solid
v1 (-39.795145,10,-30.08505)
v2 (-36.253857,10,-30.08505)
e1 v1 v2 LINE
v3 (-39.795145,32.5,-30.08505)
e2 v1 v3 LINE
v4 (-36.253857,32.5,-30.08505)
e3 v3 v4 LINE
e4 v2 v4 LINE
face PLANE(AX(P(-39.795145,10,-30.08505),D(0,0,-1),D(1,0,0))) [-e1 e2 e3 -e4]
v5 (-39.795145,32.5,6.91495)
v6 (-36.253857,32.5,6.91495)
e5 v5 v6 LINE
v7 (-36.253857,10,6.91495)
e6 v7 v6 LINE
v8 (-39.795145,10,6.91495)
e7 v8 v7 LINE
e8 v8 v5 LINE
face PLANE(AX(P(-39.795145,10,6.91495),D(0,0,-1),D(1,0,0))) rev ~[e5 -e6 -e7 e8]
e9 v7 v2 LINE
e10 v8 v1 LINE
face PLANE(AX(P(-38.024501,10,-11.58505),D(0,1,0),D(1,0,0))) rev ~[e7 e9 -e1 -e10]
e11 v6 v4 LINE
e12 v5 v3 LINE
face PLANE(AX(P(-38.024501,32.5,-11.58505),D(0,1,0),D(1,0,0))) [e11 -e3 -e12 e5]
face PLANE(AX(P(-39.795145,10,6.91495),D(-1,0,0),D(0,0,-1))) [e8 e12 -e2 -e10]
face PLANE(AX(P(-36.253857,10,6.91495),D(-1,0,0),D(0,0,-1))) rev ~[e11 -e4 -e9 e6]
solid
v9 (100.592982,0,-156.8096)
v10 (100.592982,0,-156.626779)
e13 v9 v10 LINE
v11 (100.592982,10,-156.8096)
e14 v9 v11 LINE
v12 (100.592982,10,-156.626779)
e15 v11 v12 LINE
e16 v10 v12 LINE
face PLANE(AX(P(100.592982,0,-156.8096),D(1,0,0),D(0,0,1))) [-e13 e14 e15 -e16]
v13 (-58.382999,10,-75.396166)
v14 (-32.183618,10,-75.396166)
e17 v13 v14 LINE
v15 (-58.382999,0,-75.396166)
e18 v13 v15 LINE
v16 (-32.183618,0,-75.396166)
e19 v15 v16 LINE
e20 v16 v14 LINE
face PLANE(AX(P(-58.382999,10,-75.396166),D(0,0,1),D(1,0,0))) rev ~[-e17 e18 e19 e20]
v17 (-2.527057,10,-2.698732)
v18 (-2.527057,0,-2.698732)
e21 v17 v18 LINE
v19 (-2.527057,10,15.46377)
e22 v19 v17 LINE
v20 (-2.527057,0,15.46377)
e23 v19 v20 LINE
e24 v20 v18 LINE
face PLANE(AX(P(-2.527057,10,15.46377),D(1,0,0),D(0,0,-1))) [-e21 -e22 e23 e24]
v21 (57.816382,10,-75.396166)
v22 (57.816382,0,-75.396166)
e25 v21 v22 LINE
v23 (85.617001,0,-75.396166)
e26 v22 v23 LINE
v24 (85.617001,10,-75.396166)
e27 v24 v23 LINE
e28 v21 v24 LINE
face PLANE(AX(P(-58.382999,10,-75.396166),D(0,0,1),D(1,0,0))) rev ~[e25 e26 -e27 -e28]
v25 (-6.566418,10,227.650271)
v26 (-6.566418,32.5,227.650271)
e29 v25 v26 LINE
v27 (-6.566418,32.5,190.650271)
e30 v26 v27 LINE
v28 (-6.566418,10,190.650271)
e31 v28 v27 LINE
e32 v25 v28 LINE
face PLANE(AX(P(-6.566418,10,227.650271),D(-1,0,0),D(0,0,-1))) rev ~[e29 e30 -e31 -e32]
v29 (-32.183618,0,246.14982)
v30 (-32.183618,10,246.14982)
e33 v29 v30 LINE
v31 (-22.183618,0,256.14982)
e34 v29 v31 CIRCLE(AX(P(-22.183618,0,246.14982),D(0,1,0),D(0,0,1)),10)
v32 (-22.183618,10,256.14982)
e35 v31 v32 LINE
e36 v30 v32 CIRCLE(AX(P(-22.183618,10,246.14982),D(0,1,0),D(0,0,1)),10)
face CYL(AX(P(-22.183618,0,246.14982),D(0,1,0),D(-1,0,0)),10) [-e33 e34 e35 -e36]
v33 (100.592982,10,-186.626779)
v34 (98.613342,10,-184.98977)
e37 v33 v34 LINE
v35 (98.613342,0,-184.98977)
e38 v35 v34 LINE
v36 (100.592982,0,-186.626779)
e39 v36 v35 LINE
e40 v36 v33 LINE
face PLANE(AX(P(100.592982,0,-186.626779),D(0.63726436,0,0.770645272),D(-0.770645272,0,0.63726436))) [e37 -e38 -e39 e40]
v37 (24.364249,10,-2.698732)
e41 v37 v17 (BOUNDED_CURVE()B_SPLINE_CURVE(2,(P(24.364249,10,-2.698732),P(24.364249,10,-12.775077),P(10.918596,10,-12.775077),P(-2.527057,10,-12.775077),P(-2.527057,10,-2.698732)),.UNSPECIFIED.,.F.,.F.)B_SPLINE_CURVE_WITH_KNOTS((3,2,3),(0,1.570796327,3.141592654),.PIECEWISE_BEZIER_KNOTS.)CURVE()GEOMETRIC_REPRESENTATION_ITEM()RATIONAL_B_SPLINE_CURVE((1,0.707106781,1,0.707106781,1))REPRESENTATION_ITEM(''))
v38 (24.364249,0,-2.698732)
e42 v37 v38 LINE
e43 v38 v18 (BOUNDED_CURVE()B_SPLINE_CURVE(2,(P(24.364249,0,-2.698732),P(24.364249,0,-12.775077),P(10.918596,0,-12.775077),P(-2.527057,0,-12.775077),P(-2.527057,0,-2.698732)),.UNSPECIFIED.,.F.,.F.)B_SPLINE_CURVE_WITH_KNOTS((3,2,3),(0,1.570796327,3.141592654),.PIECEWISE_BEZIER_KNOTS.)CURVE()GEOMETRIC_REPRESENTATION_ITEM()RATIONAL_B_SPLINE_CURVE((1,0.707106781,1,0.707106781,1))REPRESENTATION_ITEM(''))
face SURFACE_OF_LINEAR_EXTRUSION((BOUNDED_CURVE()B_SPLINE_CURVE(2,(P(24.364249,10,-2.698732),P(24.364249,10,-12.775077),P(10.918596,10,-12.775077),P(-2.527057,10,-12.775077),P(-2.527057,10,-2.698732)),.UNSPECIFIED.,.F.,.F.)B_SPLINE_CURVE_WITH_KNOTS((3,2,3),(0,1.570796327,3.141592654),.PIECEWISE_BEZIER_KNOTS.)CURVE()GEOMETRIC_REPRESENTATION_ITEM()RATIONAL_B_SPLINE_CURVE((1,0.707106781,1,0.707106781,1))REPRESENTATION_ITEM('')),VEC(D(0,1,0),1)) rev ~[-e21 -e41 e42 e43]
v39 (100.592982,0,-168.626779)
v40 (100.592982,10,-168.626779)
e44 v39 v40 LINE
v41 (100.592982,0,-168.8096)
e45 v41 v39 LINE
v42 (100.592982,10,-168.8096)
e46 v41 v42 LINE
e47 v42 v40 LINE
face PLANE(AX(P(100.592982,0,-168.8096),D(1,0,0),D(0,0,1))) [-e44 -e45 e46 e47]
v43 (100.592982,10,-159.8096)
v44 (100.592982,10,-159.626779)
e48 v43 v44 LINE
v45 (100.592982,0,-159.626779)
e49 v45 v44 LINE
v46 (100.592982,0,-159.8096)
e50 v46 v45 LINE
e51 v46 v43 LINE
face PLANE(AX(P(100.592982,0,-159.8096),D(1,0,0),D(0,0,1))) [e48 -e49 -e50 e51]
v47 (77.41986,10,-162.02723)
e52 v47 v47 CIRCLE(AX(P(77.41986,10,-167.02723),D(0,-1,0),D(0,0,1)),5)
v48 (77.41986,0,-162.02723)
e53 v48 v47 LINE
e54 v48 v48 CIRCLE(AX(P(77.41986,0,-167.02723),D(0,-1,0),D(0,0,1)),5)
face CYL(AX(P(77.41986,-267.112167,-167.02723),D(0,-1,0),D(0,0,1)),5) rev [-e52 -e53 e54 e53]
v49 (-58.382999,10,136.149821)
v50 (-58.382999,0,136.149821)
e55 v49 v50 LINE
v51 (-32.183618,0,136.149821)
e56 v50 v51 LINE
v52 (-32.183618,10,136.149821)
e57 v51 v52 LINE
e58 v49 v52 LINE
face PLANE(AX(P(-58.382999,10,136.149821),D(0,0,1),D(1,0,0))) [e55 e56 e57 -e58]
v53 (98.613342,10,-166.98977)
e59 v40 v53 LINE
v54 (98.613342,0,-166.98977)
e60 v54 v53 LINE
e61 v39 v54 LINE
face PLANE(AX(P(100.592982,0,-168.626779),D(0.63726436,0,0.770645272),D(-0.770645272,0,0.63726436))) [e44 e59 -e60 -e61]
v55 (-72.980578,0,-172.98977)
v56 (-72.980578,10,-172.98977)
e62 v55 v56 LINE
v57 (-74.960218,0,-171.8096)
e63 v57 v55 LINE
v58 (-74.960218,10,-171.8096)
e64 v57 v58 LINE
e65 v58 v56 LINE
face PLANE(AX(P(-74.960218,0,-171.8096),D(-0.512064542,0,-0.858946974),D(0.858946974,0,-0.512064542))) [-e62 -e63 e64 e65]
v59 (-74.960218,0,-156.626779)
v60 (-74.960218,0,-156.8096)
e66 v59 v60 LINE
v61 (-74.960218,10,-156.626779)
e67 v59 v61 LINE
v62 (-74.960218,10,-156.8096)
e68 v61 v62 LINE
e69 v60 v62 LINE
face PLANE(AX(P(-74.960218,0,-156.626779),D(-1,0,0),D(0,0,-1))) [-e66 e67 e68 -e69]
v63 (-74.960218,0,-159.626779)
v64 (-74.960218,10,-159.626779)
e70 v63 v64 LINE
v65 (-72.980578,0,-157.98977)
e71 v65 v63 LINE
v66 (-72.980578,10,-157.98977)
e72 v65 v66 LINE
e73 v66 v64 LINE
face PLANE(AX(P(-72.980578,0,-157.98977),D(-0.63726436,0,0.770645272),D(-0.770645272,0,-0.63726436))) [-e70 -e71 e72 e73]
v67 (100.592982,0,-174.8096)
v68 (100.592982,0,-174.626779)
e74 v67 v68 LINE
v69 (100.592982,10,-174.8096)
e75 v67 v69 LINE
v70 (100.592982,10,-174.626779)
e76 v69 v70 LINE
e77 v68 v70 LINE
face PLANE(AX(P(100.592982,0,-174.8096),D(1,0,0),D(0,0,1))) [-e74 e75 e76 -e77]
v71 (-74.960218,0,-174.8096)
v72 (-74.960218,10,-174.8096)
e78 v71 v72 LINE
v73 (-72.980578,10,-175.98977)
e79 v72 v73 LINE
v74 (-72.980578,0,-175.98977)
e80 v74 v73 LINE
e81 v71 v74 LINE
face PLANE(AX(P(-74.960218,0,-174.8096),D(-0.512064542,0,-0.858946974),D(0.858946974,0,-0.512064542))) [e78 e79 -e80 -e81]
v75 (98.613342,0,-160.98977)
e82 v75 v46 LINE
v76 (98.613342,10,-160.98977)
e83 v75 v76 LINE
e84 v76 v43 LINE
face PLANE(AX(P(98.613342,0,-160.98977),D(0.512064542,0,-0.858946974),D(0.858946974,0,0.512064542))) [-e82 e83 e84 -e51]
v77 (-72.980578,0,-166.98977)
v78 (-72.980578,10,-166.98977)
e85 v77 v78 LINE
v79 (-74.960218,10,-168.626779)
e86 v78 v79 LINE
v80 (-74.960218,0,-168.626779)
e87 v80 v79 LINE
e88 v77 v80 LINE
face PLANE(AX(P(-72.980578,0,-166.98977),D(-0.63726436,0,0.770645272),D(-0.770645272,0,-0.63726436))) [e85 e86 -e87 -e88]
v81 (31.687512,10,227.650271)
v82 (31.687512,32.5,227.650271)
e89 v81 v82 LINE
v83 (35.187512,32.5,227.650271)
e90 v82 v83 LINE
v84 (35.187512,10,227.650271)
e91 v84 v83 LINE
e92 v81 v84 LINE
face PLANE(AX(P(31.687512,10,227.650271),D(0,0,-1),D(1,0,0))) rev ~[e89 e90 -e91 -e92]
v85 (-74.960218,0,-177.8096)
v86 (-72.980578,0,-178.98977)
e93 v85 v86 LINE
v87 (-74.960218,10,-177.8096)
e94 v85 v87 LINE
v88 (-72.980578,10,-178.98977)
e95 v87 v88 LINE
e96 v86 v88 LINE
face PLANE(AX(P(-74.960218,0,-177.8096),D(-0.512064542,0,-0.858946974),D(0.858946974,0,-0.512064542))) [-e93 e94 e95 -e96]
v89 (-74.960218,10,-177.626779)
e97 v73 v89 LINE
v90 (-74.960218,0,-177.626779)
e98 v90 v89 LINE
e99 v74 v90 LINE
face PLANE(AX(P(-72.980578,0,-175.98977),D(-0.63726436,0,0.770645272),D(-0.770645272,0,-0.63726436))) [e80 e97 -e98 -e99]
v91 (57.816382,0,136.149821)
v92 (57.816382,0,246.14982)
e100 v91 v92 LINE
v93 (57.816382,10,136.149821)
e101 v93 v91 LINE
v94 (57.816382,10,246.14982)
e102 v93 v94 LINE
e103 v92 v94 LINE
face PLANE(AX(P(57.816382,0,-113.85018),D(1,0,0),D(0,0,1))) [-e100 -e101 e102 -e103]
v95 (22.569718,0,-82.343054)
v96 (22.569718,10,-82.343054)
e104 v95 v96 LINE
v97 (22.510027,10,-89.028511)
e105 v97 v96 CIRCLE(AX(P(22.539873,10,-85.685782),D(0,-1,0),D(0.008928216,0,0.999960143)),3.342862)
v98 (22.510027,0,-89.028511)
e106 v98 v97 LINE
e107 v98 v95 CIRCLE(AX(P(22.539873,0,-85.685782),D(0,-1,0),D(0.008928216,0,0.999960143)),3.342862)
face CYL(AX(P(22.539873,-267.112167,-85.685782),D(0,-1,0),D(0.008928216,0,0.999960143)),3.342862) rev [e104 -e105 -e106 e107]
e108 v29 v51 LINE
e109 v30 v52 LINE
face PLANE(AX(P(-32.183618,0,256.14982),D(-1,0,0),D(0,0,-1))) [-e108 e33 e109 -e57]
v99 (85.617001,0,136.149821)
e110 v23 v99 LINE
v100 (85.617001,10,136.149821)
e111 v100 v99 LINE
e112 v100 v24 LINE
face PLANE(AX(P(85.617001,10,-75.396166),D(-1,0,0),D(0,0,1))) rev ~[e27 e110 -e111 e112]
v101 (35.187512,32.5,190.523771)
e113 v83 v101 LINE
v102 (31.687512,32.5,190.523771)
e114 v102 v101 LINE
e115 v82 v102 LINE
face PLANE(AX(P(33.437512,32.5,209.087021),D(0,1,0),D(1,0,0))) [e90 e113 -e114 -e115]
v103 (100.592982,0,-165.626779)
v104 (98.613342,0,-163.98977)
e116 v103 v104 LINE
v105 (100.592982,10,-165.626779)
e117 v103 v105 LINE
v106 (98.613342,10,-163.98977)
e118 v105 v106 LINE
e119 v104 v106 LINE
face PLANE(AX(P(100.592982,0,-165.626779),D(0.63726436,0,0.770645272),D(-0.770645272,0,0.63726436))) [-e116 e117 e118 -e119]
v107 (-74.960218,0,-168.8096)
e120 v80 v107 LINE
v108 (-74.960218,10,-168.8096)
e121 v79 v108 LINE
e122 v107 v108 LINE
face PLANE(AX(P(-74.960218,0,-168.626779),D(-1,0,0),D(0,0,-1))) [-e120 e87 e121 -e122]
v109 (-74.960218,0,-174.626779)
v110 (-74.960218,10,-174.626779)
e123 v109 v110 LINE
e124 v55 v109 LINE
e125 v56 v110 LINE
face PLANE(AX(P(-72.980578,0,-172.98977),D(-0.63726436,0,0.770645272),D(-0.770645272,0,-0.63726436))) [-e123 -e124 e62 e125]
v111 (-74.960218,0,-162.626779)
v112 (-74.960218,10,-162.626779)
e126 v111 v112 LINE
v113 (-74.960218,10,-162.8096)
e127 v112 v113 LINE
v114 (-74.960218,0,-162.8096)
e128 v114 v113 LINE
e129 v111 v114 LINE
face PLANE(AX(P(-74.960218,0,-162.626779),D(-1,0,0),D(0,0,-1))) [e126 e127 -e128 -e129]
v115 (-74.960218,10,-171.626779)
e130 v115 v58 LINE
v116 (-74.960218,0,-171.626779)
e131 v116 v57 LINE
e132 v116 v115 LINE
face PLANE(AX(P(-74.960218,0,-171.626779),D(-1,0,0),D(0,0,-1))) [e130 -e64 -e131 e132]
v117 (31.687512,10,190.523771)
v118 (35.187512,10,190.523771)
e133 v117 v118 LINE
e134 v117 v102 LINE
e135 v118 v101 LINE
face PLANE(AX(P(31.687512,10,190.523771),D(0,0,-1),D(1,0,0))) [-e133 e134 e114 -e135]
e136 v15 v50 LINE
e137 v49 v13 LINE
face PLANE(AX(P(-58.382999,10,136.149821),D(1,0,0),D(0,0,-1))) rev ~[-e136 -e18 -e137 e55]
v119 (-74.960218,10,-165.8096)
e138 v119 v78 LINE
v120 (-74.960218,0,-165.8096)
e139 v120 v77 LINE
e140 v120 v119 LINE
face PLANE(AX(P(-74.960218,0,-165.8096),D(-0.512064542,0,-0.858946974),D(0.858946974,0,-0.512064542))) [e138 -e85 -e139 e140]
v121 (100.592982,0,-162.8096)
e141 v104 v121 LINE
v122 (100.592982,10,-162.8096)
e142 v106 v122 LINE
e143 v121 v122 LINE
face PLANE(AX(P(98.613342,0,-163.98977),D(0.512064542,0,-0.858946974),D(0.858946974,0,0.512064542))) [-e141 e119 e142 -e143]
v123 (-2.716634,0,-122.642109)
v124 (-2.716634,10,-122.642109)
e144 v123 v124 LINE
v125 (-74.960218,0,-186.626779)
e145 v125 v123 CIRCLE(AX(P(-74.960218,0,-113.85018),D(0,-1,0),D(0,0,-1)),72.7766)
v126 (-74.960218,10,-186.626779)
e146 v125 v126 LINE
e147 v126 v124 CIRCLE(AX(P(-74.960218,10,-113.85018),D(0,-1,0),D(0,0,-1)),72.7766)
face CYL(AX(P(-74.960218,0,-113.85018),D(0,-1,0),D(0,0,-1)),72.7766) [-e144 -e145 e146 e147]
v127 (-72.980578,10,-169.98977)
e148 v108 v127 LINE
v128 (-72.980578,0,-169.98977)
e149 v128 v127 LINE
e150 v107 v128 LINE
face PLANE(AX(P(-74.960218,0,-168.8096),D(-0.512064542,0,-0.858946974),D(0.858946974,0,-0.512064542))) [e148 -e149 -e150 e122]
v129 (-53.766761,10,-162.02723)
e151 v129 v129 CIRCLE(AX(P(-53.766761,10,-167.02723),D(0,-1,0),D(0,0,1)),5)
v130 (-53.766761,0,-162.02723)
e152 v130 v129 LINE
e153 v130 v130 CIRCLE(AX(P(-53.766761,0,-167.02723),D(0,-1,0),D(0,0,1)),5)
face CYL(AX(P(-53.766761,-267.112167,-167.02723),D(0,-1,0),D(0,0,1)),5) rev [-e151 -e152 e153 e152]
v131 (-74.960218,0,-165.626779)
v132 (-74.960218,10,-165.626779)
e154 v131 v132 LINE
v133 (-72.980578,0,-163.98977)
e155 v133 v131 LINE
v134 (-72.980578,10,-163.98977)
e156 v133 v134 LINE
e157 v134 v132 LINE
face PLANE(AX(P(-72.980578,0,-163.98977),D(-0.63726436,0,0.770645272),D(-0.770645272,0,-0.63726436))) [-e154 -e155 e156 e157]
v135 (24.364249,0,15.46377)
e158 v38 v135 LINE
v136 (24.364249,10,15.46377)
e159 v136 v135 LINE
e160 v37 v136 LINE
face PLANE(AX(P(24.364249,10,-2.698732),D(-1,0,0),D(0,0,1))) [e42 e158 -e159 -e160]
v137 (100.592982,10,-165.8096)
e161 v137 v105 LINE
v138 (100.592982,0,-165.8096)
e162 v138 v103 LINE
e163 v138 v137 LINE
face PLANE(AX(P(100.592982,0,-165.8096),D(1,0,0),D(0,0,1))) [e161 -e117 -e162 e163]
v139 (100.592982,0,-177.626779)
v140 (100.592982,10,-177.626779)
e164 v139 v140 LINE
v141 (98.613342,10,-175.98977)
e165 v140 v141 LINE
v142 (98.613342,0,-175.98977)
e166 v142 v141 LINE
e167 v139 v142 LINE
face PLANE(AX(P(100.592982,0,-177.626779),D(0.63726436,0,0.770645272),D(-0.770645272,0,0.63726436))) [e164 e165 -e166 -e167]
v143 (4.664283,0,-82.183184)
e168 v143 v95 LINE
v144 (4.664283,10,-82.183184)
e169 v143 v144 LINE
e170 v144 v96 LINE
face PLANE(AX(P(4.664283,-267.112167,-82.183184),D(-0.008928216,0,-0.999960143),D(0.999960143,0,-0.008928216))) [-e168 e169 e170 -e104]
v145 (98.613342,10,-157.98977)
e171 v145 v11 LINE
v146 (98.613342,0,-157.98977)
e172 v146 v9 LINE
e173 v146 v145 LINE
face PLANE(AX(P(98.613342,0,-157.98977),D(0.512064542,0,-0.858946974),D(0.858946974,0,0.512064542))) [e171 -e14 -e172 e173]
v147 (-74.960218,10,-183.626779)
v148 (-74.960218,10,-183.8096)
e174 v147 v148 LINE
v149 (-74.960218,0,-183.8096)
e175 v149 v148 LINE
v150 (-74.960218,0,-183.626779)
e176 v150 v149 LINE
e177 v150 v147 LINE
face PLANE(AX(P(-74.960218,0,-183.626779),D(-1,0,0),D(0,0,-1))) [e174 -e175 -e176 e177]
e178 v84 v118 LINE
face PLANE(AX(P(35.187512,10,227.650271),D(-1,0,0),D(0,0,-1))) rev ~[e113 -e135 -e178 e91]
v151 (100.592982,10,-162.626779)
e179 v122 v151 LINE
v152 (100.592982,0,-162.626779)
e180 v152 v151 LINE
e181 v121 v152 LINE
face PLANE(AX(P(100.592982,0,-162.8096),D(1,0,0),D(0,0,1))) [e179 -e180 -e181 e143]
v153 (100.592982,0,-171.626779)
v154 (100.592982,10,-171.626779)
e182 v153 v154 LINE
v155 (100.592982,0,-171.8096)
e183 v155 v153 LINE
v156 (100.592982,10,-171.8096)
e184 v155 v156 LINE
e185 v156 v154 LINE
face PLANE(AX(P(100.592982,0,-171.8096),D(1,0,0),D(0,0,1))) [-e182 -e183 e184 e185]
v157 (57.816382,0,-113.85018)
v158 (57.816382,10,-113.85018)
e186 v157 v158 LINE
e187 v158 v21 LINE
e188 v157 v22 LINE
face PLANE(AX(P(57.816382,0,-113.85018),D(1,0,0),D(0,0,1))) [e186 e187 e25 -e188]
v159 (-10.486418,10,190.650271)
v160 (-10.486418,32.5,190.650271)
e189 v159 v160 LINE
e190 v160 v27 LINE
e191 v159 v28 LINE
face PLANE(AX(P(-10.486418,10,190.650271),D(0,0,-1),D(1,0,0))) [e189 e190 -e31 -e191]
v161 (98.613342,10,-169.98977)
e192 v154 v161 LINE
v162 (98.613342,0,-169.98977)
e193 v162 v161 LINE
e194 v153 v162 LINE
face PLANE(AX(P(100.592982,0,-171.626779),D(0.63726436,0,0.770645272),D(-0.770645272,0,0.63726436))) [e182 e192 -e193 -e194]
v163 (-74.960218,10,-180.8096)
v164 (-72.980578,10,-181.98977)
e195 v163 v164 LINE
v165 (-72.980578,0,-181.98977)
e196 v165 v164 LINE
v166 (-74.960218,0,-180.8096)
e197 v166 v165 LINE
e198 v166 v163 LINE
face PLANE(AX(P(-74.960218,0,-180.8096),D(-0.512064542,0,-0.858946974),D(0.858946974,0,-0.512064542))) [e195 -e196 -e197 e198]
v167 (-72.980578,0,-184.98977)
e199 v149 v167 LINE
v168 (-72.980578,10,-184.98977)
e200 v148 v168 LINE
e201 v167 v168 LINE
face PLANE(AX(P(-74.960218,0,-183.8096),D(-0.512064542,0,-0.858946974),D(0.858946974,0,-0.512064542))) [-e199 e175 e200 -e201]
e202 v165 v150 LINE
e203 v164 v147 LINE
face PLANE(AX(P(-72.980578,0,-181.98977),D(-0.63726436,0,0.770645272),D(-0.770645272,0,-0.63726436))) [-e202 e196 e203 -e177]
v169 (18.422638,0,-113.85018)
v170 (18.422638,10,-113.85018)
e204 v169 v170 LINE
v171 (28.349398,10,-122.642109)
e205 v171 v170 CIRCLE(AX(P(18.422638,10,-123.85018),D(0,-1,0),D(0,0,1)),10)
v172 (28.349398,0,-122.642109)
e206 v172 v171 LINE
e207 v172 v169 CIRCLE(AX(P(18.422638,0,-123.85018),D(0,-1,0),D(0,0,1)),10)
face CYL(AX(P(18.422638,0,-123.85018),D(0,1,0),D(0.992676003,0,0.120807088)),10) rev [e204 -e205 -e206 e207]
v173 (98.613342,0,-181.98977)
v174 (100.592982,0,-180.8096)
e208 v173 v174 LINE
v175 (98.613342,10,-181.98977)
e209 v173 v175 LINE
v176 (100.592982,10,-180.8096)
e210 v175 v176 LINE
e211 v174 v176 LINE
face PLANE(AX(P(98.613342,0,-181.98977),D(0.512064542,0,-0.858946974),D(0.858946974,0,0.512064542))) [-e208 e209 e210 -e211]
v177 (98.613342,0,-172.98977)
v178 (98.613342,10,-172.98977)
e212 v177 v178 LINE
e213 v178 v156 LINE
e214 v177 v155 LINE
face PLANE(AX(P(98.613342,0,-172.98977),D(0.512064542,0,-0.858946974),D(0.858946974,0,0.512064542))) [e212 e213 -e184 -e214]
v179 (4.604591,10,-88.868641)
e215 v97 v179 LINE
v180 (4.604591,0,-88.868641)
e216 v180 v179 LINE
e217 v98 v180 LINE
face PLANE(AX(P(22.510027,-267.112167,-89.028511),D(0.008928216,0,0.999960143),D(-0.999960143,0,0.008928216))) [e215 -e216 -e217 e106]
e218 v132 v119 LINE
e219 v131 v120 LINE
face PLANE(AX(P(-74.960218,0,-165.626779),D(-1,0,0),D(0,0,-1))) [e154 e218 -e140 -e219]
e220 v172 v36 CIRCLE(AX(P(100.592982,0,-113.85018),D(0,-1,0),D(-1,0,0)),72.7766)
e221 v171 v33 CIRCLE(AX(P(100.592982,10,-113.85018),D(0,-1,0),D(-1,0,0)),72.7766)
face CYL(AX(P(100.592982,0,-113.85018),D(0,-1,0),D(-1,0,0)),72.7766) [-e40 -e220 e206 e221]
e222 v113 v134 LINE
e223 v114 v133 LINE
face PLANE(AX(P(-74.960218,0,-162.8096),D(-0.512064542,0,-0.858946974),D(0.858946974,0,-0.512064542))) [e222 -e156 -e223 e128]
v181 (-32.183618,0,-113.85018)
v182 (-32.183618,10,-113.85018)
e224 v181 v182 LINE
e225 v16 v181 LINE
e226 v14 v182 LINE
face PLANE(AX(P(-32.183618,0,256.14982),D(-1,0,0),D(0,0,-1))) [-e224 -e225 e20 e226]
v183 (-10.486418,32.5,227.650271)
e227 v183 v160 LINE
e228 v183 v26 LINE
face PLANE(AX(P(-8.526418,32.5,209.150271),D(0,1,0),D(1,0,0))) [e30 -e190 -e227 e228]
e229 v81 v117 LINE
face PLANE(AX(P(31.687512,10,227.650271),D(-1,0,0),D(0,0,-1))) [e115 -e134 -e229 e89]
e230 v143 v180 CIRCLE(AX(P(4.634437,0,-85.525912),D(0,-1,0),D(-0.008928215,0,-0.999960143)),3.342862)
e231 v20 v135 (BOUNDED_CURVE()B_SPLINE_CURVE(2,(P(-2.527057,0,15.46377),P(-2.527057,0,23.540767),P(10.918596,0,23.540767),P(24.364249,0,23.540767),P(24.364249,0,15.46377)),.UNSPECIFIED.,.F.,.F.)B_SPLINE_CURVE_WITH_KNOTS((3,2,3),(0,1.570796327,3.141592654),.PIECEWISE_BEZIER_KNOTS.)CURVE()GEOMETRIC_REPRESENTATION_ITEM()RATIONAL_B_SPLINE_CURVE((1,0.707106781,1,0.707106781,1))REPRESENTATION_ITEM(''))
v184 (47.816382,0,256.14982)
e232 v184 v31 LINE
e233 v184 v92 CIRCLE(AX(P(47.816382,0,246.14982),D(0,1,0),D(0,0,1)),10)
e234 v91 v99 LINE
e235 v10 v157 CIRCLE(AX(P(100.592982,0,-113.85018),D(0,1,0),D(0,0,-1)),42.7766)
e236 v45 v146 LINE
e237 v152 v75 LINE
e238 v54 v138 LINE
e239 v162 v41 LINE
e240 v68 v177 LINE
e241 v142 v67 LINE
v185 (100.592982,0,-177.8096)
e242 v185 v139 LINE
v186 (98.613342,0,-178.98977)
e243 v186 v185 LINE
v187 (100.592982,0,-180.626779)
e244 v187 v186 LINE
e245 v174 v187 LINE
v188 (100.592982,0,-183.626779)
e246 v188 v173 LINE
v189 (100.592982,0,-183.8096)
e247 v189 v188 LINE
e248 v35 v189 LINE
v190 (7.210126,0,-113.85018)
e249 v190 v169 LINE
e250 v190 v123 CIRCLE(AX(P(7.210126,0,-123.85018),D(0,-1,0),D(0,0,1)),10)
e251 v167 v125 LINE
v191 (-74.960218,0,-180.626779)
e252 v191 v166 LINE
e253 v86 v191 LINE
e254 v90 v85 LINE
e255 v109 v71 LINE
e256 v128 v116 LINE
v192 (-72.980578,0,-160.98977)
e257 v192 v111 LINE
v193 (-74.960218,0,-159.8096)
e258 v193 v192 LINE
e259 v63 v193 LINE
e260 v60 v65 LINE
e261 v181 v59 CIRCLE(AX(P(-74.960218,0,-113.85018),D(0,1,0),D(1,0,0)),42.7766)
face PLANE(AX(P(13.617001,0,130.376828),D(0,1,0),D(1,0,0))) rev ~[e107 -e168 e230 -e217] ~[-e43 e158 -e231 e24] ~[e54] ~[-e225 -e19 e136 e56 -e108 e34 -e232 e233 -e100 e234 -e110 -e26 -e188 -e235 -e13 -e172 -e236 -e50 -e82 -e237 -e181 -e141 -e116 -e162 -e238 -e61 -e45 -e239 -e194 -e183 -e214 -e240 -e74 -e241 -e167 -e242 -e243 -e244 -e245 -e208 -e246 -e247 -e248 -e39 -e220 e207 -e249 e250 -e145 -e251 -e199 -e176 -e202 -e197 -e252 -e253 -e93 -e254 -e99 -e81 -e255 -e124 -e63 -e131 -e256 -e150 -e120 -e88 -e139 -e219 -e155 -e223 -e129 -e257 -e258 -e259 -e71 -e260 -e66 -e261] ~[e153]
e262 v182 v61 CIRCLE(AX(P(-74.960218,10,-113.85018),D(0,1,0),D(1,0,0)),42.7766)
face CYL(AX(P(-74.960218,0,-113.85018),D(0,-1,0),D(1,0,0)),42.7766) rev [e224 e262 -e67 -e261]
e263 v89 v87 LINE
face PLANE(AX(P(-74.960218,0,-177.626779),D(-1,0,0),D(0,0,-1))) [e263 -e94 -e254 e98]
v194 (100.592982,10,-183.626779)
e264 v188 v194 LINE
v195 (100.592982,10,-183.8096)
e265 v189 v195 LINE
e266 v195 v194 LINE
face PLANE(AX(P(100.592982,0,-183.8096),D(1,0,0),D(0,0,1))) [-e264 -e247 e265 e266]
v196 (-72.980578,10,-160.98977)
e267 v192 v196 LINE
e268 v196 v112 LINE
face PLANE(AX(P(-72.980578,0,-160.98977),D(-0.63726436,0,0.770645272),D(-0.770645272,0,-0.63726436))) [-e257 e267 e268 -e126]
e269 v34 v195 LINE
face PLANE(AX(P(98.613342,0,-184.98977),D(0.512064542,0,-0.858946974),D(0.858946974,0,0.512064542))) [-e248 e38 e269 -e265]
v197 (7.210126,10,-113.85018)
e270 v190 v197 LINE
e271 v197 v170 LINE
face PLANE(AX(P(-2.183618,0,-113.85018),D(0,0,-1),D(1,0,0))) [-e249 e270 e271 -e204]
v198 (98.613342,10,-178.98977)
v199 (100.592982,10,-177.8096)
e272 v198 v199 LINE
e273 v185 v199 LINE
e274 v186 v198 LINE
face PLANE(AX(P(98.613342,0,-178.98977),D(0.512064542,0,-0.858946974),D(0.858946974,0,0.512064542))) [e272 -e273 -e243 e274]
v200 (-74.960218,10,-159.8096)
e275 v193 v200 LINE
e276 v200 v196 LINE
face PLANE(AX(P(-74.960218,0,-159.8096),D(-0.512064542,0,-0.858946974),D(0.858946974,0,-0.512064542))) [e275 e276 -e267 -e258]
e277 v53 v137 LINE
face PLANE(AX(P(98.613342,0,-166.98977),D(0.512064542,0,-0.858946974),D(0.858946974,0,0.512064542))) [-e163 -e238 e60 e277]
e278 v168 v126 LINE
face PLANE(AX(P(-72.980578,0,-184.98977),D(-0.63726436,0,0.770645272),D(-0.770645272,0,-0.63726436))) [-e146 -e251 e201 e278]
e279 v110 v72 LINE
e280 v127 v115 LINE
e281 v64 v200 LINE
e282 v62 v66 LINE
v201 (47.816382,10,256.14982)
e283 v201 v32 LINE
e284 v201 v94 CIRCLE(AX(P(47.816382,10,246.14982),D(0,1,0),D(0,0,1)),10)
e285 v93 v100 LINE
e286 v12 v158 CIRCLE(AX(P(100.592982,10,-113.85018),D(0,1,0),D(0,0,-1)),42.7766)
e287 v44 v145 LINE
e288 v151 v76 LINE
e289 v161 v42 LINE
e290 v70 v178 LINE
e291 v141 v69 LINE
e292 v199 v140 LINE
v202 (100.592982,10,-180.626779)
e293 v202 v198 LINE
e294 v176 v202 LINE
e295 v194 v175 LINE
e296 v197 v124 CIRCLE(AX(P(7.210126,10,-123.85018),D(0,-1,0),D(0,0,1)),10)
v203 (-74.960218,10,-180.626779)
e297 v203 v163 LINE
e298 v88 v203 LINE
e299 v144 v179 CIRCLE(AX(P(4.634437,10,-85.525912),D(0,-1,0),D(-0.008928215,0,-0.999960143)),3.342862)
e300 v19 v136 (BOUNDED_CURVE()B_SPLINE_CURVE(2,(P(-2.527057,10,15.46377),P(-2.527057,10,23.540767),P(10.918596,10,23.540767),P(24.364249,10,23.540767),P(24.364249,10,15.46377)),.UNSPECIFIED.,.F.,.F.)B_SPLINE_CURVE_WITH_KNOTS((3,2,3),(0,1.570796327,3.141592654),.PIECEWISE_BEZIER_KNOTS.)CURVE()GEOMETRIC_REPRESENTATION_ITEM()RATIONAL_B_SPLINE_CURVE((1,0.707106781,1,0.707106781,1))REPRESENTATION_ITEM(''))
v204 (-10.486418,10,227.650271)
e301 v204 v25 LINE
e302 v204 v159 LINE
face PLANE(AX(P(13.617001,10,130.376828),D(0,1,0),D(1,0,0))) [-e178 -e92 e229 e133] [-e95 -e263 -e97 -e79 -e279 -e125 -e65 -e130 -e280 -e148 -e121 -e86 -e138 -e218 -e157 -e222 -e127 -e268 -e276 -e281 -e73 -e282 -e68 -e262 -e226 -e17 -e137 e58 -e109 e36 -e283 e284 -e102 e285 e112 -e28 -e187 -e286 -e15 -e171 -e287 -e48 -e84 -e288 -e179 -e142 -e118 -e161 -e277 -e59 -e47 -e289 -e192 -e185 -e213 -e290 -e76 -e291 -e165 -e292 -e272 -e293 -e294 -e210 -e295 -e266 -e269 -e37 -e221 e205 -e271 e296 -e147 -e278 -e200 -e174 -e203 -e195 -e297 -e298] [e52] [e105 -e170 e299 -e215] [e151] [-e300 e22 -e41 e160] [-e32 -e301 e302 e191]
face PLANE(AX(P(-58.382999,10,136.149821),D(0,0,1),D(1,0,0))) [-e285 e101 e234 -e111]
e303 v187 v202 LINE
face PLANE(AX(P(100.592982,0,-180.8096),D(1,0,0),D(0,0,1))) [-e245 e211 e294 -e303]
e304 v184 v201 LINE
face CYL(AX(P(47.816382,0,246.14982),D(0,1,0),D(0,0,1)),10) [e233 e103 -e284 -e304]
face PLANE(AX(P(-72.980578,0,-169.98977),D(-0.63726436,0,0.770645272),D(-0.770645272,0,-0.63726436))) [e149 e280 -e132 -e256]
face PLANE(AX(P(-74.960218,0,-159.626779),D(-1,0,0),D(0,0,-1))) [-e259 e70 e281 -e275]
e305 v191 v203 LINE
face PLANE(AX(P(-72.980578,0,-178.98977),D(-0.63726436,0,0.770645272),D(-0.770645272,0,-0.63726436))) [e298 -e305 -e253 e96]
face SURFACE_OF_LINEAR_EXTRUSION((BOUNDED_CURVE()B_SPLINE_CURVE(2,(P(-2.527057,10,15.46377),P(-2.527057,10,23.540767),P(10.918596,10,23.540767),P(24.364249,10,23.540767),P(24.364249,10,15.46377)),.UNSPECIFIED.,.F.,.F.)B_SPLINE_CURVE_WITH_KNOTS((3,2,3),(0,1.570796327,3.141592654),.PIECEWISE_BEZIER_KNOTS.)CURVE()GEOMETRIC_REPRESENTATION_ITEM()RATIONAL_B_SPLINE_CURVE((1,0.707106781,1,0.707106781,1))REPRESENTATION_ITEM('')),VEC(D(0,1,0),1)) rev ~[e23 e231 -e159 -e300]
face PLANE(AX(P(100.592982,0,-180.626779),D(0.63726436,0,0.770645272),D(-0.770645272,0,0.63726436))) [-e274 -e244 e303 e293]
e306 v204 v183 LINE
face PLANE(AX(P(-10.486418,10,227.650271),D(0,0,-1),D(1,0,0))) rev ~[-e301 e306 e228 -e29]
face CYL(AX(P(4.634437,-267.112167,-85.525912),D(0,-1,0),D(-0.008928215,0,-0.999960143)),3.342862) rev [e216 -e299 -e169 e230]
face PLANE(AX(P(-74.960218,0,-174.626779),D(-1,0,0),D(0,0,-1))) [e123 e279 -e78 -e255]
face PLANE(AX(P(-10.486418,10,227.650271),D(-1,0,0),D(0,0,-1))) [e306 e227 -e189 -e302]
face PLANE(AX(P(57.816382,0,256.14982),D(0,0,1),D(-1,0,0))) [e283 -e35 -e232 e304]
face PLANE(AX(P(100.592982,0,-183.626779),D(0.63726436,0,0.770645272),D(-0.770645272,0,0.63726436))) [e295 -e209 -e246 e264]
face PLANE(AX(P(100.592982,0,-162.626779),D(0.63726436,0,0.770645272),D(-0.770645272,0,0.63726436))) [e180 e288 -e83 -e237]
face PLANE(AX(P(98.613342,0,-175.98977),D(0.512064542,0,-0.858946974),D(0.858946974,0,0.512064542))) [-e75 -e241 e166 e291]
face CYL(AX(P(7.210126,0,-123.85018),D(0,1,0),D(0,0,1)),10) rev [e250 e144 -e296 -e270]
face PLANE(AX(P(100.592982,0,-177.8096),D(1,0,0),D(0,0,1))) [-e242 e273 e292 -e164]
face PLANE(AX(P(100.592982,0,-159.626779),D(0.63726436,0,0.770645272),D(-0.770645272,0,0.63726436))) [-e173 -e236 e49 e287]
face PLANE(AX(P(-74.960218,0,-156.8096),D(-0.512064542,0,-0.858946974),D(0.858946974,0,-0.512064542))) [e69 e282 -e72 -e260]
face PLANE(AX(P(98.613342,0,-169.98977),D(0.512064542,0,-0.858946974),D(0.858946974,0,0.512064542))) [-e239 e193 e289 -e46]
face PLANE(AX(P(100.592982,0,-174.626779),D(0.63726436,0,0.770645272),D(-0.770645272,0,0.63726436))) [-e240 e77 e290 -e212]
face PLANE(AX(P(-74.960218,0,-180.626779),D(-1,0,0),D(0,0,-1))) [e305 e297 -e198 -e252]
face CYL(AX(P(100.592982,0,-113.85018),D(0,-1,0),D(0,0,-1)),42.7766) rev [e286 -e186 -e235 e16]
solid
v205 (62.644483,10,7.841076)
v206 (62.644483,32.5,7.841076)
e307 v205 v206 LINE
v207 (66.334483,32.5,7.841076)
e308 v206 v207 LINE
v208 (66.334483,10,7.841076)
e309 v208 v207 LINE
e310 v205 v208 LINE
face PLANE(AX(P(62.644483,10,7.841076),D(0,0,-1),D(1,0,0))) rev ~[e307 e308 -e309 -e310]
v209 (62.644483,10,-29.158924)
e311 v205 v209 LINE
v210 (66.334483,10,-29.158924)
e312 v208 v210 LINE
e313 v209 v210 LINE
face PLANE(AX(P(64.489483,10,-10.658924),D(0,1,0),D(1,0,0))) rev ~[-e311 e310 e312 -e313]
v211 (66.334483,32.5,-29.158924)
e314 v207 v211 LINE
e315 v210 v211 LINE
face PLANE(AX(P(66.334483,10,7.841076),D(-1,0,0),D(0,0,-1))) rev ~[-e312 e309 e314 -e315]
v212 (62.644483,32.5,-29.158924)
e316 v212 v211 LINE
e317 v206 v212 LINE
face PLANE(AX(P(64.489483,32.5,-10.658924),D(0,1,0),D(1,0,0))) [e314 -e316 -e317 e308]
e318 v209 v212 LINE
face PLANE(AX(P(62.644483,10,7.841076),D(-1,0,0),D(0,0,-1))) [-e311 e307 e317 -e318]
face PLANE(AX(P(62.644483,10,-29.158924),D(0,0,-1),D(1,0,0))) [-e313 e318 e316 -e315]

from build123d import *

# Parameters (mm, degrees)
BOSS_EXTRUDE1_DEPTH     = 10
SKETCH9_W               = 3.92
SKETCH9_H               = 37
SKETCH9_W_2             = 3.5
SKETCH9_H_2             = 37.126500488
SKETCH9_W_3             = 3.541288456
SKETCH9_W_4             = 3.69
BOSS_EXTRUDE5_DEPTH     = 22.5
CUT_EXTRUDE1_DEPTH      = 277.112166613
CUT_EXTRUDE1_DEPTH_BACK = 277.112166613
SKETCH9_3_R             = 5
FILLET1_R               = 10
FILLET2_R               = 10
FILLET3_R               = 10
FILLET4_R               = 10
BOSS_EXTRUDE6_DEPTH     = 10
SKETCH11_W              = 144
SKETCH11_H              = 11.545986826
BOSS_EXTRUDE7_DEPTH     = 10
CUT_EXTRUDE2_DEPTH      = 10


with BuildPart() as part:
    # Sketch1 → Boss-Extrude1 (new body)
    with BuildSketch(Plane(origin=(0, 0, 0), x_dir=(1, 0, 0), z_dir=(0, 1, 0))):
        with BuildLine():
            Line((-74.960217971, 156.809599724), (-74.960217971, 156.626779496))
            ThreePointArc((-74.960217971, 156.626779496), (-44.712594055, 144.09780344), (-32.183617999, 113.850179524))
            Line((-32.183617999, 113.850179524), (-32.183617999, -256.149820476))
            Line((-32.183617999, -256.149820476), (57.816382001, -256.149820476))
            Line((57.816382001, -256.149820476), (57.816382001, 113.850179524))
            ThreePointArc((57.816382001, 113.850179524), (70.345358056, 144.09780344), (100.592981972, 156.626779496))
            Line((100.592981972, 156.626779496), (100.592981972, 156.809599724))
            Line((100.592981972, 156.809599724), (98.613342132, 157.989769628))
            Line((98.613342132, 157.989769628), (100.592981972, 159.626779496))
            Line((100.592981972, 159.626779496), (100.592981972, 159.809599724))
            Line((100.592981972, 159.809599724), (98.613342132, 160.989769628))
            Line((98.613342132, 160.989769628), (100.592981972, 162.626779496))
            Line((100.592981972, 162.626779496), (100.592981972, 162.809599724))
            Line((100.592981972, 162.809599724), (98.613342132, 163.989769628))
            Line((98.613342132, 163.989769628), (100.592981972, 165.626779496))
            Line((100.592981972, 165.626779496), (100.592981972, 165.809599724))
            Line((100.592981972, 165.809599724), (98.613342132, 166.989769628))
            Line((98.613342132, 166.989769628), (100.592981972, 168.626779496))
            Line((100.592981972, 168.626779496), (100.592981972, 168.809599724))
            Line((100.592981972, 168.809599724), (98.613342132, 169.989769628))
            Line((98.613342132, 169.989769628), (100.592981972, 171.626779496))
            Line((100.592981972, 171.626779496), (100.592981972, 171.809599724))
            Line((100.592981972, 171.809599724), (98.613342132, 172.989769628))
            Line((98.613342132, 172.989769628), (100.592981972, 174.626779496))
            Line((100.592981972, 174.626779496), (100.592981972, 174.809599724))
            Line((100.592981972, 174.809599724), (98.613342132, 175.989769628))
            Line((98.613342132, 175.989769628), (100.592981972, 177.626779496))
            Line((100.592981972, 177.626779496), (100.592981972, 177.809599724))
            Line((100.592981972, 177.809599724), (98.613342132, 178.989769628))
            Line((98.613342132, 178.989769628), (100.592981972, 180.626779496))
            Line((100.592981972, 180.626779496), (100.592981972, 180.809599724))
            Line((100.592981972, 180.809599724), (98.613342132, 181.989769628))
            Line((98.613342132, 181.989769628), (100.592981972, 183.626779496))
            Line((100.592981972, 183.626779496), (100.592981972, 183.809599724))
            Line((100.592981972, 183.809599724), (98.613342132, 184.989769628))
            Line((98.613342132, 184.989769628), (100.592981972, 186.626779496))
            ThreePointArc((100.592981972, 186.626779496), (49.132154621, 165.311006876), (27.816382001, 113.850179524))
            Line((27.816382001, 113.850179524), (12.816382001, 113.850179524))
            Line((12.816382001, 113.850179524), (-2.183617999, 113.850179524))
            ThreePointArc((-2.183617999, 113.850179524), (-23.499390619, 165.311006876), (-74.960217971, 186.626779496))
            Line((-74.960217971, 186.626779496), (-72.980578131, 184.989769628))
            Line((-72.980578131, 184.989769628), (-74.960217971, 183.809599724))
            Line((-74.960217971, 183.809599724), (-74.960217971, 183.626779496))
            Line((-74.960217971, 183.626779496), (-72.980578131, 181.989769628))
            Line((-72.980578131, 181.989769628), (-74.960217971, 180.809599724))
            Line((-74.960217971, 180.809599724), (-74.960217971, 180.626779496))
            Line((-74.960217971, 180.626779496), (-72.980578131, 178.989769628))
            Line((-72.980578131, 178.989769628), (-74.960217971, 177.809599724))
            Line((-74.960217971, 177.809599724), (-74.960217971, 177.626779496))
            Line((-74.960217971, 177.626779496), (-72.980578131, 175.989769628))
            Line((-72.980578131, 175.989769628), (-74.960217971, 174.809599724))
            Line((-74.960217971, 174.809599724), (-74.960217971, 174.626779496))
            Line((-74.960217971, 174.626779496), (-72.980578131, 172.989769628))
            Line((-72.980578131, 172.989769628), (-74.960217971, 171.809599724))
            Line((-74.960217971, 171.809599724), (-74.960217971, 171.626779496))
            Line((-74.960217971, 171.626779496), (-72.980578131, 169.989769628))
            Line((-72.980578131, 169.989769628), (-74.960217971, 168.809599724))
            Line((-74.960217971, 168.809599724), (-74.960217971, 168.626779496))
            Line((-74.960217971, 168.626779496), (-72.980578131, 166.989769628))
            Line((-72.980578131, 166.989769628), (-74.960217971, 165.809599724))
            Line((-74.960217971, 165.809599724), (-74.960217971, 165.626779496))
            Line((-74.960217971, 165.626779496), (-72.980578131, 163.989769628))
            Line((-72.980578131, 163.989769628), (-74.960217971, 162.809599724))
            Line((-74.960217971, 162.809599724), (-74.960217971, 162.626779496))
            Line((-74.960217971, 162.626779496), (-72.980578131, 160.989769628))
            Line((-72.980578131, 160.989769628), (-74.960217971, 159.809599724))
            Line((-74.960217971, 159.809599724), (-74.960217971, 159.626779496))
            Line((-74.960217971, 159.626779496), (-72.980578131, 157.989769628))
            Line((-72.980578131, 157.989769628), (-74.960217971, 156.809599724))
        make_face()
    extrude(amount=BOSS_EXTRUDE1_DEPTH)

    # Sketch9 → Boss-Extrude5 (add)
    with BuildSketch(Plane(origin=(0, 10, 0), x_dir=(1, 0, 0), z_dir=(0, 1, 0))):
        with Locations((-8.526417695, -209.150271155)):
            Rectangle(SKETCH9_W, SKETCH9_H)
        with Locations((33.437512474, -209.087020911)):
            Rectangle(SKETCH9_W_2, SKETCH9_H_2)
        with Locations((-38.024500938, 11.585050009)):
            Rectangle(SKETCH9_W_3, SKETCH9_H)
        with Locations((64.489482657, 10.658923544)):
            Rectangle(SKETCH9_W_4, SKETCH9_H)
    extrude(amount=BOSS_EXTRUDE5_DEPTH)


with BuildPart() as boss_extrude5_piece_1:
    # of the separate pieces the step leaves, piece 1, a body of its own (boss_extrude5_pieces)
    add(part.part.solids().sort_by_distance((-2.183617999, 0, -113.850179524))[0])

    # Sketch9<3> → Cut-Extrude1 (cut, two sides: drawn at the far end of the back side and taken through both)
    with BuildSketch(Plane(origin=(0, 10, 0), x_dir=(1, 0, 0), z_dir=(0, 1, 0)).offset(-CUT_EXTRUDE1_DEPTH_BACK)):
        with BuildLine():
            Line((4.664282568, 82.183183807), (22.569718474, 82.34305377))
            ThreePointArc((22.569718474, 82.34305377), (25.882601331, 85.71562821), (22.510026891, 89.028511067))
            Line((22.510026891, 89.028511067), (4.604590985, 88.868641103))
            ThreePointArc((4.604590985, 88.868641103), (1.291708128, 85.496066664), (4.664282568, 82.183183807))
        make_face()
        with Locations((-53.766761214, 167.027229772)):
            Circle(SKETCH9_3_R)
        with Locations((77.419859554, 167.027229772)):
            Circle(SKETCH9_3_R)
    extrude(amount=CUT_EXTRUDE1_DEPTH + CUT_EXTRUDE1_DEPTH_BACK, mode=Mode.SUBTRACT)

    # Fillet1
    fillet1_edges = [boss_extrude5_piece_1.edges().sort_by_distance(p)[0] for p in [
        (-32.183617999, 5, 256.149820476),
    ]]
    fillet(fillet1_edges, radius=FILLET1_R)

    # Fillet2
    fillet2_edges = [boss_extrude5_piece_1.edges().sort_by_distance(p)[0] for p in [
        (57.816382001, 5, 256.149820476),
    ]]
    fillet(fillet2_edges, radius=FILLET2_R)

    # Fillet3
    fillet3_edges = [boss_extrude5_piece_1.edges().sort_by_distance(p)[0] for p in [
        (27.816382001, 5, -113.850179524),
    ]]
    fillet(fillet3_edges, radius=FILLET3_R)

    # Fillet4
    fillet4_edges = [boss_extrude5_piece_1.edges().sort_by_distance(p)[0] for p in [
        (-2.183617999, 5, -113.850179524),
    ]]
    fillet(fillet4_edges, radius=FILLET4_R)

    # Sketch10 → Boss-Extrude6 (add)
    with BuildSketch(Plane(origin=(0, 10, 0), x_dir=(1, 0, 0), z_dir=(0, 1, 0))):
        Polygon((-58.382999479, 75.396165624), (85.617000521, 75.396165624), (85.617000521, -124.603834376), (13.617000521, -124.603834376), (-58.382999479, -124.603834376), align=None)
    extrude(amount=-BOSS_EXTRUDE6_DEPTH)

    # Sketch11 → Boss-Extrude7 (add)
    with BuildSketch(Plane(origin=(0, 10, 0), x_dir=(1, 0, 0), z_dir=(0, 1, 0))):
        with Locations((13.617000521, -130.376827789)):
            Rectangle(SKETCH11_W, SKETCH11_H)
    extrude(amount=-BOSS_EXTRUDE7_DEPTH)

    # Sketch12 → Cut-Extrude2 (cut, symmetric)
    with BuildSketch(Plane(origin=(0, 10, 0), x_dir=(1, 0, 0), z_dir=(0, 1, 0))):
        with BuildLine():
            Line((-2.527057268, -15.463769637), (-2.527057268, 2.698732135))
            add(Edge.make_bspline(
                [(24.364249195, 2.698732135), (24.364249195, 12.775076767), (10.918595964, 12.775076767), (-2.527057268, 12.775076767), (-2.527057268, 2.698732135)],
                knots=[0, 0, 0, 1.570796327, 1.570796327, 3.141592654, 3.141592654, 3.141592654], degree=2, weights=[1, 0.707106781, 1, 0.707106781, 1]))
            Line((24.364249195, 2.698732135), (24.364249195, -15.463769637))
            add(Edge.make_bspline(
                [(-2.527057268, -15.463769637), (-2.527057268, -23.540766762), (10.918595964, -23.540766762), (24.364249195, -23.540766762), (24.364249195, -15.463769637)],
                knots=[0, 0, 0, 1.570796327, 1.570796327, 3.141592654, 3.141592654, 3.141592654], degree=2, weights=[1, 0.707106781, 1, 0.707106781, 1]))
        make_face()
    extrude(amount=CUT_EXTRUDE2_DEPTH, both=True, mode=Mode.SUBTRACT)


with BuildPart() as boss_extrude5_piece_2:
    # of the separate pieces the step leaves, piece 2, a body of its own (boss_extrude5_pieces)
    add(part.part.solids().sort_by_distance((62.644482657, 10, -29.158923544))[0])


with BuildPart() as boss_extrude5_piece_3:
    # of the separate pieces the step leaves, piece 3, a body of its own (boss_extrude5_pieces)
    add(part.part.solids().sort_by_distance((-39.795145166, 10, -30.085050009))[0])


solid = Compound([boss_extrude5_piece_1.part, boss_extrude5_piece_2.part, boss_extrude5_piece_3.part])
